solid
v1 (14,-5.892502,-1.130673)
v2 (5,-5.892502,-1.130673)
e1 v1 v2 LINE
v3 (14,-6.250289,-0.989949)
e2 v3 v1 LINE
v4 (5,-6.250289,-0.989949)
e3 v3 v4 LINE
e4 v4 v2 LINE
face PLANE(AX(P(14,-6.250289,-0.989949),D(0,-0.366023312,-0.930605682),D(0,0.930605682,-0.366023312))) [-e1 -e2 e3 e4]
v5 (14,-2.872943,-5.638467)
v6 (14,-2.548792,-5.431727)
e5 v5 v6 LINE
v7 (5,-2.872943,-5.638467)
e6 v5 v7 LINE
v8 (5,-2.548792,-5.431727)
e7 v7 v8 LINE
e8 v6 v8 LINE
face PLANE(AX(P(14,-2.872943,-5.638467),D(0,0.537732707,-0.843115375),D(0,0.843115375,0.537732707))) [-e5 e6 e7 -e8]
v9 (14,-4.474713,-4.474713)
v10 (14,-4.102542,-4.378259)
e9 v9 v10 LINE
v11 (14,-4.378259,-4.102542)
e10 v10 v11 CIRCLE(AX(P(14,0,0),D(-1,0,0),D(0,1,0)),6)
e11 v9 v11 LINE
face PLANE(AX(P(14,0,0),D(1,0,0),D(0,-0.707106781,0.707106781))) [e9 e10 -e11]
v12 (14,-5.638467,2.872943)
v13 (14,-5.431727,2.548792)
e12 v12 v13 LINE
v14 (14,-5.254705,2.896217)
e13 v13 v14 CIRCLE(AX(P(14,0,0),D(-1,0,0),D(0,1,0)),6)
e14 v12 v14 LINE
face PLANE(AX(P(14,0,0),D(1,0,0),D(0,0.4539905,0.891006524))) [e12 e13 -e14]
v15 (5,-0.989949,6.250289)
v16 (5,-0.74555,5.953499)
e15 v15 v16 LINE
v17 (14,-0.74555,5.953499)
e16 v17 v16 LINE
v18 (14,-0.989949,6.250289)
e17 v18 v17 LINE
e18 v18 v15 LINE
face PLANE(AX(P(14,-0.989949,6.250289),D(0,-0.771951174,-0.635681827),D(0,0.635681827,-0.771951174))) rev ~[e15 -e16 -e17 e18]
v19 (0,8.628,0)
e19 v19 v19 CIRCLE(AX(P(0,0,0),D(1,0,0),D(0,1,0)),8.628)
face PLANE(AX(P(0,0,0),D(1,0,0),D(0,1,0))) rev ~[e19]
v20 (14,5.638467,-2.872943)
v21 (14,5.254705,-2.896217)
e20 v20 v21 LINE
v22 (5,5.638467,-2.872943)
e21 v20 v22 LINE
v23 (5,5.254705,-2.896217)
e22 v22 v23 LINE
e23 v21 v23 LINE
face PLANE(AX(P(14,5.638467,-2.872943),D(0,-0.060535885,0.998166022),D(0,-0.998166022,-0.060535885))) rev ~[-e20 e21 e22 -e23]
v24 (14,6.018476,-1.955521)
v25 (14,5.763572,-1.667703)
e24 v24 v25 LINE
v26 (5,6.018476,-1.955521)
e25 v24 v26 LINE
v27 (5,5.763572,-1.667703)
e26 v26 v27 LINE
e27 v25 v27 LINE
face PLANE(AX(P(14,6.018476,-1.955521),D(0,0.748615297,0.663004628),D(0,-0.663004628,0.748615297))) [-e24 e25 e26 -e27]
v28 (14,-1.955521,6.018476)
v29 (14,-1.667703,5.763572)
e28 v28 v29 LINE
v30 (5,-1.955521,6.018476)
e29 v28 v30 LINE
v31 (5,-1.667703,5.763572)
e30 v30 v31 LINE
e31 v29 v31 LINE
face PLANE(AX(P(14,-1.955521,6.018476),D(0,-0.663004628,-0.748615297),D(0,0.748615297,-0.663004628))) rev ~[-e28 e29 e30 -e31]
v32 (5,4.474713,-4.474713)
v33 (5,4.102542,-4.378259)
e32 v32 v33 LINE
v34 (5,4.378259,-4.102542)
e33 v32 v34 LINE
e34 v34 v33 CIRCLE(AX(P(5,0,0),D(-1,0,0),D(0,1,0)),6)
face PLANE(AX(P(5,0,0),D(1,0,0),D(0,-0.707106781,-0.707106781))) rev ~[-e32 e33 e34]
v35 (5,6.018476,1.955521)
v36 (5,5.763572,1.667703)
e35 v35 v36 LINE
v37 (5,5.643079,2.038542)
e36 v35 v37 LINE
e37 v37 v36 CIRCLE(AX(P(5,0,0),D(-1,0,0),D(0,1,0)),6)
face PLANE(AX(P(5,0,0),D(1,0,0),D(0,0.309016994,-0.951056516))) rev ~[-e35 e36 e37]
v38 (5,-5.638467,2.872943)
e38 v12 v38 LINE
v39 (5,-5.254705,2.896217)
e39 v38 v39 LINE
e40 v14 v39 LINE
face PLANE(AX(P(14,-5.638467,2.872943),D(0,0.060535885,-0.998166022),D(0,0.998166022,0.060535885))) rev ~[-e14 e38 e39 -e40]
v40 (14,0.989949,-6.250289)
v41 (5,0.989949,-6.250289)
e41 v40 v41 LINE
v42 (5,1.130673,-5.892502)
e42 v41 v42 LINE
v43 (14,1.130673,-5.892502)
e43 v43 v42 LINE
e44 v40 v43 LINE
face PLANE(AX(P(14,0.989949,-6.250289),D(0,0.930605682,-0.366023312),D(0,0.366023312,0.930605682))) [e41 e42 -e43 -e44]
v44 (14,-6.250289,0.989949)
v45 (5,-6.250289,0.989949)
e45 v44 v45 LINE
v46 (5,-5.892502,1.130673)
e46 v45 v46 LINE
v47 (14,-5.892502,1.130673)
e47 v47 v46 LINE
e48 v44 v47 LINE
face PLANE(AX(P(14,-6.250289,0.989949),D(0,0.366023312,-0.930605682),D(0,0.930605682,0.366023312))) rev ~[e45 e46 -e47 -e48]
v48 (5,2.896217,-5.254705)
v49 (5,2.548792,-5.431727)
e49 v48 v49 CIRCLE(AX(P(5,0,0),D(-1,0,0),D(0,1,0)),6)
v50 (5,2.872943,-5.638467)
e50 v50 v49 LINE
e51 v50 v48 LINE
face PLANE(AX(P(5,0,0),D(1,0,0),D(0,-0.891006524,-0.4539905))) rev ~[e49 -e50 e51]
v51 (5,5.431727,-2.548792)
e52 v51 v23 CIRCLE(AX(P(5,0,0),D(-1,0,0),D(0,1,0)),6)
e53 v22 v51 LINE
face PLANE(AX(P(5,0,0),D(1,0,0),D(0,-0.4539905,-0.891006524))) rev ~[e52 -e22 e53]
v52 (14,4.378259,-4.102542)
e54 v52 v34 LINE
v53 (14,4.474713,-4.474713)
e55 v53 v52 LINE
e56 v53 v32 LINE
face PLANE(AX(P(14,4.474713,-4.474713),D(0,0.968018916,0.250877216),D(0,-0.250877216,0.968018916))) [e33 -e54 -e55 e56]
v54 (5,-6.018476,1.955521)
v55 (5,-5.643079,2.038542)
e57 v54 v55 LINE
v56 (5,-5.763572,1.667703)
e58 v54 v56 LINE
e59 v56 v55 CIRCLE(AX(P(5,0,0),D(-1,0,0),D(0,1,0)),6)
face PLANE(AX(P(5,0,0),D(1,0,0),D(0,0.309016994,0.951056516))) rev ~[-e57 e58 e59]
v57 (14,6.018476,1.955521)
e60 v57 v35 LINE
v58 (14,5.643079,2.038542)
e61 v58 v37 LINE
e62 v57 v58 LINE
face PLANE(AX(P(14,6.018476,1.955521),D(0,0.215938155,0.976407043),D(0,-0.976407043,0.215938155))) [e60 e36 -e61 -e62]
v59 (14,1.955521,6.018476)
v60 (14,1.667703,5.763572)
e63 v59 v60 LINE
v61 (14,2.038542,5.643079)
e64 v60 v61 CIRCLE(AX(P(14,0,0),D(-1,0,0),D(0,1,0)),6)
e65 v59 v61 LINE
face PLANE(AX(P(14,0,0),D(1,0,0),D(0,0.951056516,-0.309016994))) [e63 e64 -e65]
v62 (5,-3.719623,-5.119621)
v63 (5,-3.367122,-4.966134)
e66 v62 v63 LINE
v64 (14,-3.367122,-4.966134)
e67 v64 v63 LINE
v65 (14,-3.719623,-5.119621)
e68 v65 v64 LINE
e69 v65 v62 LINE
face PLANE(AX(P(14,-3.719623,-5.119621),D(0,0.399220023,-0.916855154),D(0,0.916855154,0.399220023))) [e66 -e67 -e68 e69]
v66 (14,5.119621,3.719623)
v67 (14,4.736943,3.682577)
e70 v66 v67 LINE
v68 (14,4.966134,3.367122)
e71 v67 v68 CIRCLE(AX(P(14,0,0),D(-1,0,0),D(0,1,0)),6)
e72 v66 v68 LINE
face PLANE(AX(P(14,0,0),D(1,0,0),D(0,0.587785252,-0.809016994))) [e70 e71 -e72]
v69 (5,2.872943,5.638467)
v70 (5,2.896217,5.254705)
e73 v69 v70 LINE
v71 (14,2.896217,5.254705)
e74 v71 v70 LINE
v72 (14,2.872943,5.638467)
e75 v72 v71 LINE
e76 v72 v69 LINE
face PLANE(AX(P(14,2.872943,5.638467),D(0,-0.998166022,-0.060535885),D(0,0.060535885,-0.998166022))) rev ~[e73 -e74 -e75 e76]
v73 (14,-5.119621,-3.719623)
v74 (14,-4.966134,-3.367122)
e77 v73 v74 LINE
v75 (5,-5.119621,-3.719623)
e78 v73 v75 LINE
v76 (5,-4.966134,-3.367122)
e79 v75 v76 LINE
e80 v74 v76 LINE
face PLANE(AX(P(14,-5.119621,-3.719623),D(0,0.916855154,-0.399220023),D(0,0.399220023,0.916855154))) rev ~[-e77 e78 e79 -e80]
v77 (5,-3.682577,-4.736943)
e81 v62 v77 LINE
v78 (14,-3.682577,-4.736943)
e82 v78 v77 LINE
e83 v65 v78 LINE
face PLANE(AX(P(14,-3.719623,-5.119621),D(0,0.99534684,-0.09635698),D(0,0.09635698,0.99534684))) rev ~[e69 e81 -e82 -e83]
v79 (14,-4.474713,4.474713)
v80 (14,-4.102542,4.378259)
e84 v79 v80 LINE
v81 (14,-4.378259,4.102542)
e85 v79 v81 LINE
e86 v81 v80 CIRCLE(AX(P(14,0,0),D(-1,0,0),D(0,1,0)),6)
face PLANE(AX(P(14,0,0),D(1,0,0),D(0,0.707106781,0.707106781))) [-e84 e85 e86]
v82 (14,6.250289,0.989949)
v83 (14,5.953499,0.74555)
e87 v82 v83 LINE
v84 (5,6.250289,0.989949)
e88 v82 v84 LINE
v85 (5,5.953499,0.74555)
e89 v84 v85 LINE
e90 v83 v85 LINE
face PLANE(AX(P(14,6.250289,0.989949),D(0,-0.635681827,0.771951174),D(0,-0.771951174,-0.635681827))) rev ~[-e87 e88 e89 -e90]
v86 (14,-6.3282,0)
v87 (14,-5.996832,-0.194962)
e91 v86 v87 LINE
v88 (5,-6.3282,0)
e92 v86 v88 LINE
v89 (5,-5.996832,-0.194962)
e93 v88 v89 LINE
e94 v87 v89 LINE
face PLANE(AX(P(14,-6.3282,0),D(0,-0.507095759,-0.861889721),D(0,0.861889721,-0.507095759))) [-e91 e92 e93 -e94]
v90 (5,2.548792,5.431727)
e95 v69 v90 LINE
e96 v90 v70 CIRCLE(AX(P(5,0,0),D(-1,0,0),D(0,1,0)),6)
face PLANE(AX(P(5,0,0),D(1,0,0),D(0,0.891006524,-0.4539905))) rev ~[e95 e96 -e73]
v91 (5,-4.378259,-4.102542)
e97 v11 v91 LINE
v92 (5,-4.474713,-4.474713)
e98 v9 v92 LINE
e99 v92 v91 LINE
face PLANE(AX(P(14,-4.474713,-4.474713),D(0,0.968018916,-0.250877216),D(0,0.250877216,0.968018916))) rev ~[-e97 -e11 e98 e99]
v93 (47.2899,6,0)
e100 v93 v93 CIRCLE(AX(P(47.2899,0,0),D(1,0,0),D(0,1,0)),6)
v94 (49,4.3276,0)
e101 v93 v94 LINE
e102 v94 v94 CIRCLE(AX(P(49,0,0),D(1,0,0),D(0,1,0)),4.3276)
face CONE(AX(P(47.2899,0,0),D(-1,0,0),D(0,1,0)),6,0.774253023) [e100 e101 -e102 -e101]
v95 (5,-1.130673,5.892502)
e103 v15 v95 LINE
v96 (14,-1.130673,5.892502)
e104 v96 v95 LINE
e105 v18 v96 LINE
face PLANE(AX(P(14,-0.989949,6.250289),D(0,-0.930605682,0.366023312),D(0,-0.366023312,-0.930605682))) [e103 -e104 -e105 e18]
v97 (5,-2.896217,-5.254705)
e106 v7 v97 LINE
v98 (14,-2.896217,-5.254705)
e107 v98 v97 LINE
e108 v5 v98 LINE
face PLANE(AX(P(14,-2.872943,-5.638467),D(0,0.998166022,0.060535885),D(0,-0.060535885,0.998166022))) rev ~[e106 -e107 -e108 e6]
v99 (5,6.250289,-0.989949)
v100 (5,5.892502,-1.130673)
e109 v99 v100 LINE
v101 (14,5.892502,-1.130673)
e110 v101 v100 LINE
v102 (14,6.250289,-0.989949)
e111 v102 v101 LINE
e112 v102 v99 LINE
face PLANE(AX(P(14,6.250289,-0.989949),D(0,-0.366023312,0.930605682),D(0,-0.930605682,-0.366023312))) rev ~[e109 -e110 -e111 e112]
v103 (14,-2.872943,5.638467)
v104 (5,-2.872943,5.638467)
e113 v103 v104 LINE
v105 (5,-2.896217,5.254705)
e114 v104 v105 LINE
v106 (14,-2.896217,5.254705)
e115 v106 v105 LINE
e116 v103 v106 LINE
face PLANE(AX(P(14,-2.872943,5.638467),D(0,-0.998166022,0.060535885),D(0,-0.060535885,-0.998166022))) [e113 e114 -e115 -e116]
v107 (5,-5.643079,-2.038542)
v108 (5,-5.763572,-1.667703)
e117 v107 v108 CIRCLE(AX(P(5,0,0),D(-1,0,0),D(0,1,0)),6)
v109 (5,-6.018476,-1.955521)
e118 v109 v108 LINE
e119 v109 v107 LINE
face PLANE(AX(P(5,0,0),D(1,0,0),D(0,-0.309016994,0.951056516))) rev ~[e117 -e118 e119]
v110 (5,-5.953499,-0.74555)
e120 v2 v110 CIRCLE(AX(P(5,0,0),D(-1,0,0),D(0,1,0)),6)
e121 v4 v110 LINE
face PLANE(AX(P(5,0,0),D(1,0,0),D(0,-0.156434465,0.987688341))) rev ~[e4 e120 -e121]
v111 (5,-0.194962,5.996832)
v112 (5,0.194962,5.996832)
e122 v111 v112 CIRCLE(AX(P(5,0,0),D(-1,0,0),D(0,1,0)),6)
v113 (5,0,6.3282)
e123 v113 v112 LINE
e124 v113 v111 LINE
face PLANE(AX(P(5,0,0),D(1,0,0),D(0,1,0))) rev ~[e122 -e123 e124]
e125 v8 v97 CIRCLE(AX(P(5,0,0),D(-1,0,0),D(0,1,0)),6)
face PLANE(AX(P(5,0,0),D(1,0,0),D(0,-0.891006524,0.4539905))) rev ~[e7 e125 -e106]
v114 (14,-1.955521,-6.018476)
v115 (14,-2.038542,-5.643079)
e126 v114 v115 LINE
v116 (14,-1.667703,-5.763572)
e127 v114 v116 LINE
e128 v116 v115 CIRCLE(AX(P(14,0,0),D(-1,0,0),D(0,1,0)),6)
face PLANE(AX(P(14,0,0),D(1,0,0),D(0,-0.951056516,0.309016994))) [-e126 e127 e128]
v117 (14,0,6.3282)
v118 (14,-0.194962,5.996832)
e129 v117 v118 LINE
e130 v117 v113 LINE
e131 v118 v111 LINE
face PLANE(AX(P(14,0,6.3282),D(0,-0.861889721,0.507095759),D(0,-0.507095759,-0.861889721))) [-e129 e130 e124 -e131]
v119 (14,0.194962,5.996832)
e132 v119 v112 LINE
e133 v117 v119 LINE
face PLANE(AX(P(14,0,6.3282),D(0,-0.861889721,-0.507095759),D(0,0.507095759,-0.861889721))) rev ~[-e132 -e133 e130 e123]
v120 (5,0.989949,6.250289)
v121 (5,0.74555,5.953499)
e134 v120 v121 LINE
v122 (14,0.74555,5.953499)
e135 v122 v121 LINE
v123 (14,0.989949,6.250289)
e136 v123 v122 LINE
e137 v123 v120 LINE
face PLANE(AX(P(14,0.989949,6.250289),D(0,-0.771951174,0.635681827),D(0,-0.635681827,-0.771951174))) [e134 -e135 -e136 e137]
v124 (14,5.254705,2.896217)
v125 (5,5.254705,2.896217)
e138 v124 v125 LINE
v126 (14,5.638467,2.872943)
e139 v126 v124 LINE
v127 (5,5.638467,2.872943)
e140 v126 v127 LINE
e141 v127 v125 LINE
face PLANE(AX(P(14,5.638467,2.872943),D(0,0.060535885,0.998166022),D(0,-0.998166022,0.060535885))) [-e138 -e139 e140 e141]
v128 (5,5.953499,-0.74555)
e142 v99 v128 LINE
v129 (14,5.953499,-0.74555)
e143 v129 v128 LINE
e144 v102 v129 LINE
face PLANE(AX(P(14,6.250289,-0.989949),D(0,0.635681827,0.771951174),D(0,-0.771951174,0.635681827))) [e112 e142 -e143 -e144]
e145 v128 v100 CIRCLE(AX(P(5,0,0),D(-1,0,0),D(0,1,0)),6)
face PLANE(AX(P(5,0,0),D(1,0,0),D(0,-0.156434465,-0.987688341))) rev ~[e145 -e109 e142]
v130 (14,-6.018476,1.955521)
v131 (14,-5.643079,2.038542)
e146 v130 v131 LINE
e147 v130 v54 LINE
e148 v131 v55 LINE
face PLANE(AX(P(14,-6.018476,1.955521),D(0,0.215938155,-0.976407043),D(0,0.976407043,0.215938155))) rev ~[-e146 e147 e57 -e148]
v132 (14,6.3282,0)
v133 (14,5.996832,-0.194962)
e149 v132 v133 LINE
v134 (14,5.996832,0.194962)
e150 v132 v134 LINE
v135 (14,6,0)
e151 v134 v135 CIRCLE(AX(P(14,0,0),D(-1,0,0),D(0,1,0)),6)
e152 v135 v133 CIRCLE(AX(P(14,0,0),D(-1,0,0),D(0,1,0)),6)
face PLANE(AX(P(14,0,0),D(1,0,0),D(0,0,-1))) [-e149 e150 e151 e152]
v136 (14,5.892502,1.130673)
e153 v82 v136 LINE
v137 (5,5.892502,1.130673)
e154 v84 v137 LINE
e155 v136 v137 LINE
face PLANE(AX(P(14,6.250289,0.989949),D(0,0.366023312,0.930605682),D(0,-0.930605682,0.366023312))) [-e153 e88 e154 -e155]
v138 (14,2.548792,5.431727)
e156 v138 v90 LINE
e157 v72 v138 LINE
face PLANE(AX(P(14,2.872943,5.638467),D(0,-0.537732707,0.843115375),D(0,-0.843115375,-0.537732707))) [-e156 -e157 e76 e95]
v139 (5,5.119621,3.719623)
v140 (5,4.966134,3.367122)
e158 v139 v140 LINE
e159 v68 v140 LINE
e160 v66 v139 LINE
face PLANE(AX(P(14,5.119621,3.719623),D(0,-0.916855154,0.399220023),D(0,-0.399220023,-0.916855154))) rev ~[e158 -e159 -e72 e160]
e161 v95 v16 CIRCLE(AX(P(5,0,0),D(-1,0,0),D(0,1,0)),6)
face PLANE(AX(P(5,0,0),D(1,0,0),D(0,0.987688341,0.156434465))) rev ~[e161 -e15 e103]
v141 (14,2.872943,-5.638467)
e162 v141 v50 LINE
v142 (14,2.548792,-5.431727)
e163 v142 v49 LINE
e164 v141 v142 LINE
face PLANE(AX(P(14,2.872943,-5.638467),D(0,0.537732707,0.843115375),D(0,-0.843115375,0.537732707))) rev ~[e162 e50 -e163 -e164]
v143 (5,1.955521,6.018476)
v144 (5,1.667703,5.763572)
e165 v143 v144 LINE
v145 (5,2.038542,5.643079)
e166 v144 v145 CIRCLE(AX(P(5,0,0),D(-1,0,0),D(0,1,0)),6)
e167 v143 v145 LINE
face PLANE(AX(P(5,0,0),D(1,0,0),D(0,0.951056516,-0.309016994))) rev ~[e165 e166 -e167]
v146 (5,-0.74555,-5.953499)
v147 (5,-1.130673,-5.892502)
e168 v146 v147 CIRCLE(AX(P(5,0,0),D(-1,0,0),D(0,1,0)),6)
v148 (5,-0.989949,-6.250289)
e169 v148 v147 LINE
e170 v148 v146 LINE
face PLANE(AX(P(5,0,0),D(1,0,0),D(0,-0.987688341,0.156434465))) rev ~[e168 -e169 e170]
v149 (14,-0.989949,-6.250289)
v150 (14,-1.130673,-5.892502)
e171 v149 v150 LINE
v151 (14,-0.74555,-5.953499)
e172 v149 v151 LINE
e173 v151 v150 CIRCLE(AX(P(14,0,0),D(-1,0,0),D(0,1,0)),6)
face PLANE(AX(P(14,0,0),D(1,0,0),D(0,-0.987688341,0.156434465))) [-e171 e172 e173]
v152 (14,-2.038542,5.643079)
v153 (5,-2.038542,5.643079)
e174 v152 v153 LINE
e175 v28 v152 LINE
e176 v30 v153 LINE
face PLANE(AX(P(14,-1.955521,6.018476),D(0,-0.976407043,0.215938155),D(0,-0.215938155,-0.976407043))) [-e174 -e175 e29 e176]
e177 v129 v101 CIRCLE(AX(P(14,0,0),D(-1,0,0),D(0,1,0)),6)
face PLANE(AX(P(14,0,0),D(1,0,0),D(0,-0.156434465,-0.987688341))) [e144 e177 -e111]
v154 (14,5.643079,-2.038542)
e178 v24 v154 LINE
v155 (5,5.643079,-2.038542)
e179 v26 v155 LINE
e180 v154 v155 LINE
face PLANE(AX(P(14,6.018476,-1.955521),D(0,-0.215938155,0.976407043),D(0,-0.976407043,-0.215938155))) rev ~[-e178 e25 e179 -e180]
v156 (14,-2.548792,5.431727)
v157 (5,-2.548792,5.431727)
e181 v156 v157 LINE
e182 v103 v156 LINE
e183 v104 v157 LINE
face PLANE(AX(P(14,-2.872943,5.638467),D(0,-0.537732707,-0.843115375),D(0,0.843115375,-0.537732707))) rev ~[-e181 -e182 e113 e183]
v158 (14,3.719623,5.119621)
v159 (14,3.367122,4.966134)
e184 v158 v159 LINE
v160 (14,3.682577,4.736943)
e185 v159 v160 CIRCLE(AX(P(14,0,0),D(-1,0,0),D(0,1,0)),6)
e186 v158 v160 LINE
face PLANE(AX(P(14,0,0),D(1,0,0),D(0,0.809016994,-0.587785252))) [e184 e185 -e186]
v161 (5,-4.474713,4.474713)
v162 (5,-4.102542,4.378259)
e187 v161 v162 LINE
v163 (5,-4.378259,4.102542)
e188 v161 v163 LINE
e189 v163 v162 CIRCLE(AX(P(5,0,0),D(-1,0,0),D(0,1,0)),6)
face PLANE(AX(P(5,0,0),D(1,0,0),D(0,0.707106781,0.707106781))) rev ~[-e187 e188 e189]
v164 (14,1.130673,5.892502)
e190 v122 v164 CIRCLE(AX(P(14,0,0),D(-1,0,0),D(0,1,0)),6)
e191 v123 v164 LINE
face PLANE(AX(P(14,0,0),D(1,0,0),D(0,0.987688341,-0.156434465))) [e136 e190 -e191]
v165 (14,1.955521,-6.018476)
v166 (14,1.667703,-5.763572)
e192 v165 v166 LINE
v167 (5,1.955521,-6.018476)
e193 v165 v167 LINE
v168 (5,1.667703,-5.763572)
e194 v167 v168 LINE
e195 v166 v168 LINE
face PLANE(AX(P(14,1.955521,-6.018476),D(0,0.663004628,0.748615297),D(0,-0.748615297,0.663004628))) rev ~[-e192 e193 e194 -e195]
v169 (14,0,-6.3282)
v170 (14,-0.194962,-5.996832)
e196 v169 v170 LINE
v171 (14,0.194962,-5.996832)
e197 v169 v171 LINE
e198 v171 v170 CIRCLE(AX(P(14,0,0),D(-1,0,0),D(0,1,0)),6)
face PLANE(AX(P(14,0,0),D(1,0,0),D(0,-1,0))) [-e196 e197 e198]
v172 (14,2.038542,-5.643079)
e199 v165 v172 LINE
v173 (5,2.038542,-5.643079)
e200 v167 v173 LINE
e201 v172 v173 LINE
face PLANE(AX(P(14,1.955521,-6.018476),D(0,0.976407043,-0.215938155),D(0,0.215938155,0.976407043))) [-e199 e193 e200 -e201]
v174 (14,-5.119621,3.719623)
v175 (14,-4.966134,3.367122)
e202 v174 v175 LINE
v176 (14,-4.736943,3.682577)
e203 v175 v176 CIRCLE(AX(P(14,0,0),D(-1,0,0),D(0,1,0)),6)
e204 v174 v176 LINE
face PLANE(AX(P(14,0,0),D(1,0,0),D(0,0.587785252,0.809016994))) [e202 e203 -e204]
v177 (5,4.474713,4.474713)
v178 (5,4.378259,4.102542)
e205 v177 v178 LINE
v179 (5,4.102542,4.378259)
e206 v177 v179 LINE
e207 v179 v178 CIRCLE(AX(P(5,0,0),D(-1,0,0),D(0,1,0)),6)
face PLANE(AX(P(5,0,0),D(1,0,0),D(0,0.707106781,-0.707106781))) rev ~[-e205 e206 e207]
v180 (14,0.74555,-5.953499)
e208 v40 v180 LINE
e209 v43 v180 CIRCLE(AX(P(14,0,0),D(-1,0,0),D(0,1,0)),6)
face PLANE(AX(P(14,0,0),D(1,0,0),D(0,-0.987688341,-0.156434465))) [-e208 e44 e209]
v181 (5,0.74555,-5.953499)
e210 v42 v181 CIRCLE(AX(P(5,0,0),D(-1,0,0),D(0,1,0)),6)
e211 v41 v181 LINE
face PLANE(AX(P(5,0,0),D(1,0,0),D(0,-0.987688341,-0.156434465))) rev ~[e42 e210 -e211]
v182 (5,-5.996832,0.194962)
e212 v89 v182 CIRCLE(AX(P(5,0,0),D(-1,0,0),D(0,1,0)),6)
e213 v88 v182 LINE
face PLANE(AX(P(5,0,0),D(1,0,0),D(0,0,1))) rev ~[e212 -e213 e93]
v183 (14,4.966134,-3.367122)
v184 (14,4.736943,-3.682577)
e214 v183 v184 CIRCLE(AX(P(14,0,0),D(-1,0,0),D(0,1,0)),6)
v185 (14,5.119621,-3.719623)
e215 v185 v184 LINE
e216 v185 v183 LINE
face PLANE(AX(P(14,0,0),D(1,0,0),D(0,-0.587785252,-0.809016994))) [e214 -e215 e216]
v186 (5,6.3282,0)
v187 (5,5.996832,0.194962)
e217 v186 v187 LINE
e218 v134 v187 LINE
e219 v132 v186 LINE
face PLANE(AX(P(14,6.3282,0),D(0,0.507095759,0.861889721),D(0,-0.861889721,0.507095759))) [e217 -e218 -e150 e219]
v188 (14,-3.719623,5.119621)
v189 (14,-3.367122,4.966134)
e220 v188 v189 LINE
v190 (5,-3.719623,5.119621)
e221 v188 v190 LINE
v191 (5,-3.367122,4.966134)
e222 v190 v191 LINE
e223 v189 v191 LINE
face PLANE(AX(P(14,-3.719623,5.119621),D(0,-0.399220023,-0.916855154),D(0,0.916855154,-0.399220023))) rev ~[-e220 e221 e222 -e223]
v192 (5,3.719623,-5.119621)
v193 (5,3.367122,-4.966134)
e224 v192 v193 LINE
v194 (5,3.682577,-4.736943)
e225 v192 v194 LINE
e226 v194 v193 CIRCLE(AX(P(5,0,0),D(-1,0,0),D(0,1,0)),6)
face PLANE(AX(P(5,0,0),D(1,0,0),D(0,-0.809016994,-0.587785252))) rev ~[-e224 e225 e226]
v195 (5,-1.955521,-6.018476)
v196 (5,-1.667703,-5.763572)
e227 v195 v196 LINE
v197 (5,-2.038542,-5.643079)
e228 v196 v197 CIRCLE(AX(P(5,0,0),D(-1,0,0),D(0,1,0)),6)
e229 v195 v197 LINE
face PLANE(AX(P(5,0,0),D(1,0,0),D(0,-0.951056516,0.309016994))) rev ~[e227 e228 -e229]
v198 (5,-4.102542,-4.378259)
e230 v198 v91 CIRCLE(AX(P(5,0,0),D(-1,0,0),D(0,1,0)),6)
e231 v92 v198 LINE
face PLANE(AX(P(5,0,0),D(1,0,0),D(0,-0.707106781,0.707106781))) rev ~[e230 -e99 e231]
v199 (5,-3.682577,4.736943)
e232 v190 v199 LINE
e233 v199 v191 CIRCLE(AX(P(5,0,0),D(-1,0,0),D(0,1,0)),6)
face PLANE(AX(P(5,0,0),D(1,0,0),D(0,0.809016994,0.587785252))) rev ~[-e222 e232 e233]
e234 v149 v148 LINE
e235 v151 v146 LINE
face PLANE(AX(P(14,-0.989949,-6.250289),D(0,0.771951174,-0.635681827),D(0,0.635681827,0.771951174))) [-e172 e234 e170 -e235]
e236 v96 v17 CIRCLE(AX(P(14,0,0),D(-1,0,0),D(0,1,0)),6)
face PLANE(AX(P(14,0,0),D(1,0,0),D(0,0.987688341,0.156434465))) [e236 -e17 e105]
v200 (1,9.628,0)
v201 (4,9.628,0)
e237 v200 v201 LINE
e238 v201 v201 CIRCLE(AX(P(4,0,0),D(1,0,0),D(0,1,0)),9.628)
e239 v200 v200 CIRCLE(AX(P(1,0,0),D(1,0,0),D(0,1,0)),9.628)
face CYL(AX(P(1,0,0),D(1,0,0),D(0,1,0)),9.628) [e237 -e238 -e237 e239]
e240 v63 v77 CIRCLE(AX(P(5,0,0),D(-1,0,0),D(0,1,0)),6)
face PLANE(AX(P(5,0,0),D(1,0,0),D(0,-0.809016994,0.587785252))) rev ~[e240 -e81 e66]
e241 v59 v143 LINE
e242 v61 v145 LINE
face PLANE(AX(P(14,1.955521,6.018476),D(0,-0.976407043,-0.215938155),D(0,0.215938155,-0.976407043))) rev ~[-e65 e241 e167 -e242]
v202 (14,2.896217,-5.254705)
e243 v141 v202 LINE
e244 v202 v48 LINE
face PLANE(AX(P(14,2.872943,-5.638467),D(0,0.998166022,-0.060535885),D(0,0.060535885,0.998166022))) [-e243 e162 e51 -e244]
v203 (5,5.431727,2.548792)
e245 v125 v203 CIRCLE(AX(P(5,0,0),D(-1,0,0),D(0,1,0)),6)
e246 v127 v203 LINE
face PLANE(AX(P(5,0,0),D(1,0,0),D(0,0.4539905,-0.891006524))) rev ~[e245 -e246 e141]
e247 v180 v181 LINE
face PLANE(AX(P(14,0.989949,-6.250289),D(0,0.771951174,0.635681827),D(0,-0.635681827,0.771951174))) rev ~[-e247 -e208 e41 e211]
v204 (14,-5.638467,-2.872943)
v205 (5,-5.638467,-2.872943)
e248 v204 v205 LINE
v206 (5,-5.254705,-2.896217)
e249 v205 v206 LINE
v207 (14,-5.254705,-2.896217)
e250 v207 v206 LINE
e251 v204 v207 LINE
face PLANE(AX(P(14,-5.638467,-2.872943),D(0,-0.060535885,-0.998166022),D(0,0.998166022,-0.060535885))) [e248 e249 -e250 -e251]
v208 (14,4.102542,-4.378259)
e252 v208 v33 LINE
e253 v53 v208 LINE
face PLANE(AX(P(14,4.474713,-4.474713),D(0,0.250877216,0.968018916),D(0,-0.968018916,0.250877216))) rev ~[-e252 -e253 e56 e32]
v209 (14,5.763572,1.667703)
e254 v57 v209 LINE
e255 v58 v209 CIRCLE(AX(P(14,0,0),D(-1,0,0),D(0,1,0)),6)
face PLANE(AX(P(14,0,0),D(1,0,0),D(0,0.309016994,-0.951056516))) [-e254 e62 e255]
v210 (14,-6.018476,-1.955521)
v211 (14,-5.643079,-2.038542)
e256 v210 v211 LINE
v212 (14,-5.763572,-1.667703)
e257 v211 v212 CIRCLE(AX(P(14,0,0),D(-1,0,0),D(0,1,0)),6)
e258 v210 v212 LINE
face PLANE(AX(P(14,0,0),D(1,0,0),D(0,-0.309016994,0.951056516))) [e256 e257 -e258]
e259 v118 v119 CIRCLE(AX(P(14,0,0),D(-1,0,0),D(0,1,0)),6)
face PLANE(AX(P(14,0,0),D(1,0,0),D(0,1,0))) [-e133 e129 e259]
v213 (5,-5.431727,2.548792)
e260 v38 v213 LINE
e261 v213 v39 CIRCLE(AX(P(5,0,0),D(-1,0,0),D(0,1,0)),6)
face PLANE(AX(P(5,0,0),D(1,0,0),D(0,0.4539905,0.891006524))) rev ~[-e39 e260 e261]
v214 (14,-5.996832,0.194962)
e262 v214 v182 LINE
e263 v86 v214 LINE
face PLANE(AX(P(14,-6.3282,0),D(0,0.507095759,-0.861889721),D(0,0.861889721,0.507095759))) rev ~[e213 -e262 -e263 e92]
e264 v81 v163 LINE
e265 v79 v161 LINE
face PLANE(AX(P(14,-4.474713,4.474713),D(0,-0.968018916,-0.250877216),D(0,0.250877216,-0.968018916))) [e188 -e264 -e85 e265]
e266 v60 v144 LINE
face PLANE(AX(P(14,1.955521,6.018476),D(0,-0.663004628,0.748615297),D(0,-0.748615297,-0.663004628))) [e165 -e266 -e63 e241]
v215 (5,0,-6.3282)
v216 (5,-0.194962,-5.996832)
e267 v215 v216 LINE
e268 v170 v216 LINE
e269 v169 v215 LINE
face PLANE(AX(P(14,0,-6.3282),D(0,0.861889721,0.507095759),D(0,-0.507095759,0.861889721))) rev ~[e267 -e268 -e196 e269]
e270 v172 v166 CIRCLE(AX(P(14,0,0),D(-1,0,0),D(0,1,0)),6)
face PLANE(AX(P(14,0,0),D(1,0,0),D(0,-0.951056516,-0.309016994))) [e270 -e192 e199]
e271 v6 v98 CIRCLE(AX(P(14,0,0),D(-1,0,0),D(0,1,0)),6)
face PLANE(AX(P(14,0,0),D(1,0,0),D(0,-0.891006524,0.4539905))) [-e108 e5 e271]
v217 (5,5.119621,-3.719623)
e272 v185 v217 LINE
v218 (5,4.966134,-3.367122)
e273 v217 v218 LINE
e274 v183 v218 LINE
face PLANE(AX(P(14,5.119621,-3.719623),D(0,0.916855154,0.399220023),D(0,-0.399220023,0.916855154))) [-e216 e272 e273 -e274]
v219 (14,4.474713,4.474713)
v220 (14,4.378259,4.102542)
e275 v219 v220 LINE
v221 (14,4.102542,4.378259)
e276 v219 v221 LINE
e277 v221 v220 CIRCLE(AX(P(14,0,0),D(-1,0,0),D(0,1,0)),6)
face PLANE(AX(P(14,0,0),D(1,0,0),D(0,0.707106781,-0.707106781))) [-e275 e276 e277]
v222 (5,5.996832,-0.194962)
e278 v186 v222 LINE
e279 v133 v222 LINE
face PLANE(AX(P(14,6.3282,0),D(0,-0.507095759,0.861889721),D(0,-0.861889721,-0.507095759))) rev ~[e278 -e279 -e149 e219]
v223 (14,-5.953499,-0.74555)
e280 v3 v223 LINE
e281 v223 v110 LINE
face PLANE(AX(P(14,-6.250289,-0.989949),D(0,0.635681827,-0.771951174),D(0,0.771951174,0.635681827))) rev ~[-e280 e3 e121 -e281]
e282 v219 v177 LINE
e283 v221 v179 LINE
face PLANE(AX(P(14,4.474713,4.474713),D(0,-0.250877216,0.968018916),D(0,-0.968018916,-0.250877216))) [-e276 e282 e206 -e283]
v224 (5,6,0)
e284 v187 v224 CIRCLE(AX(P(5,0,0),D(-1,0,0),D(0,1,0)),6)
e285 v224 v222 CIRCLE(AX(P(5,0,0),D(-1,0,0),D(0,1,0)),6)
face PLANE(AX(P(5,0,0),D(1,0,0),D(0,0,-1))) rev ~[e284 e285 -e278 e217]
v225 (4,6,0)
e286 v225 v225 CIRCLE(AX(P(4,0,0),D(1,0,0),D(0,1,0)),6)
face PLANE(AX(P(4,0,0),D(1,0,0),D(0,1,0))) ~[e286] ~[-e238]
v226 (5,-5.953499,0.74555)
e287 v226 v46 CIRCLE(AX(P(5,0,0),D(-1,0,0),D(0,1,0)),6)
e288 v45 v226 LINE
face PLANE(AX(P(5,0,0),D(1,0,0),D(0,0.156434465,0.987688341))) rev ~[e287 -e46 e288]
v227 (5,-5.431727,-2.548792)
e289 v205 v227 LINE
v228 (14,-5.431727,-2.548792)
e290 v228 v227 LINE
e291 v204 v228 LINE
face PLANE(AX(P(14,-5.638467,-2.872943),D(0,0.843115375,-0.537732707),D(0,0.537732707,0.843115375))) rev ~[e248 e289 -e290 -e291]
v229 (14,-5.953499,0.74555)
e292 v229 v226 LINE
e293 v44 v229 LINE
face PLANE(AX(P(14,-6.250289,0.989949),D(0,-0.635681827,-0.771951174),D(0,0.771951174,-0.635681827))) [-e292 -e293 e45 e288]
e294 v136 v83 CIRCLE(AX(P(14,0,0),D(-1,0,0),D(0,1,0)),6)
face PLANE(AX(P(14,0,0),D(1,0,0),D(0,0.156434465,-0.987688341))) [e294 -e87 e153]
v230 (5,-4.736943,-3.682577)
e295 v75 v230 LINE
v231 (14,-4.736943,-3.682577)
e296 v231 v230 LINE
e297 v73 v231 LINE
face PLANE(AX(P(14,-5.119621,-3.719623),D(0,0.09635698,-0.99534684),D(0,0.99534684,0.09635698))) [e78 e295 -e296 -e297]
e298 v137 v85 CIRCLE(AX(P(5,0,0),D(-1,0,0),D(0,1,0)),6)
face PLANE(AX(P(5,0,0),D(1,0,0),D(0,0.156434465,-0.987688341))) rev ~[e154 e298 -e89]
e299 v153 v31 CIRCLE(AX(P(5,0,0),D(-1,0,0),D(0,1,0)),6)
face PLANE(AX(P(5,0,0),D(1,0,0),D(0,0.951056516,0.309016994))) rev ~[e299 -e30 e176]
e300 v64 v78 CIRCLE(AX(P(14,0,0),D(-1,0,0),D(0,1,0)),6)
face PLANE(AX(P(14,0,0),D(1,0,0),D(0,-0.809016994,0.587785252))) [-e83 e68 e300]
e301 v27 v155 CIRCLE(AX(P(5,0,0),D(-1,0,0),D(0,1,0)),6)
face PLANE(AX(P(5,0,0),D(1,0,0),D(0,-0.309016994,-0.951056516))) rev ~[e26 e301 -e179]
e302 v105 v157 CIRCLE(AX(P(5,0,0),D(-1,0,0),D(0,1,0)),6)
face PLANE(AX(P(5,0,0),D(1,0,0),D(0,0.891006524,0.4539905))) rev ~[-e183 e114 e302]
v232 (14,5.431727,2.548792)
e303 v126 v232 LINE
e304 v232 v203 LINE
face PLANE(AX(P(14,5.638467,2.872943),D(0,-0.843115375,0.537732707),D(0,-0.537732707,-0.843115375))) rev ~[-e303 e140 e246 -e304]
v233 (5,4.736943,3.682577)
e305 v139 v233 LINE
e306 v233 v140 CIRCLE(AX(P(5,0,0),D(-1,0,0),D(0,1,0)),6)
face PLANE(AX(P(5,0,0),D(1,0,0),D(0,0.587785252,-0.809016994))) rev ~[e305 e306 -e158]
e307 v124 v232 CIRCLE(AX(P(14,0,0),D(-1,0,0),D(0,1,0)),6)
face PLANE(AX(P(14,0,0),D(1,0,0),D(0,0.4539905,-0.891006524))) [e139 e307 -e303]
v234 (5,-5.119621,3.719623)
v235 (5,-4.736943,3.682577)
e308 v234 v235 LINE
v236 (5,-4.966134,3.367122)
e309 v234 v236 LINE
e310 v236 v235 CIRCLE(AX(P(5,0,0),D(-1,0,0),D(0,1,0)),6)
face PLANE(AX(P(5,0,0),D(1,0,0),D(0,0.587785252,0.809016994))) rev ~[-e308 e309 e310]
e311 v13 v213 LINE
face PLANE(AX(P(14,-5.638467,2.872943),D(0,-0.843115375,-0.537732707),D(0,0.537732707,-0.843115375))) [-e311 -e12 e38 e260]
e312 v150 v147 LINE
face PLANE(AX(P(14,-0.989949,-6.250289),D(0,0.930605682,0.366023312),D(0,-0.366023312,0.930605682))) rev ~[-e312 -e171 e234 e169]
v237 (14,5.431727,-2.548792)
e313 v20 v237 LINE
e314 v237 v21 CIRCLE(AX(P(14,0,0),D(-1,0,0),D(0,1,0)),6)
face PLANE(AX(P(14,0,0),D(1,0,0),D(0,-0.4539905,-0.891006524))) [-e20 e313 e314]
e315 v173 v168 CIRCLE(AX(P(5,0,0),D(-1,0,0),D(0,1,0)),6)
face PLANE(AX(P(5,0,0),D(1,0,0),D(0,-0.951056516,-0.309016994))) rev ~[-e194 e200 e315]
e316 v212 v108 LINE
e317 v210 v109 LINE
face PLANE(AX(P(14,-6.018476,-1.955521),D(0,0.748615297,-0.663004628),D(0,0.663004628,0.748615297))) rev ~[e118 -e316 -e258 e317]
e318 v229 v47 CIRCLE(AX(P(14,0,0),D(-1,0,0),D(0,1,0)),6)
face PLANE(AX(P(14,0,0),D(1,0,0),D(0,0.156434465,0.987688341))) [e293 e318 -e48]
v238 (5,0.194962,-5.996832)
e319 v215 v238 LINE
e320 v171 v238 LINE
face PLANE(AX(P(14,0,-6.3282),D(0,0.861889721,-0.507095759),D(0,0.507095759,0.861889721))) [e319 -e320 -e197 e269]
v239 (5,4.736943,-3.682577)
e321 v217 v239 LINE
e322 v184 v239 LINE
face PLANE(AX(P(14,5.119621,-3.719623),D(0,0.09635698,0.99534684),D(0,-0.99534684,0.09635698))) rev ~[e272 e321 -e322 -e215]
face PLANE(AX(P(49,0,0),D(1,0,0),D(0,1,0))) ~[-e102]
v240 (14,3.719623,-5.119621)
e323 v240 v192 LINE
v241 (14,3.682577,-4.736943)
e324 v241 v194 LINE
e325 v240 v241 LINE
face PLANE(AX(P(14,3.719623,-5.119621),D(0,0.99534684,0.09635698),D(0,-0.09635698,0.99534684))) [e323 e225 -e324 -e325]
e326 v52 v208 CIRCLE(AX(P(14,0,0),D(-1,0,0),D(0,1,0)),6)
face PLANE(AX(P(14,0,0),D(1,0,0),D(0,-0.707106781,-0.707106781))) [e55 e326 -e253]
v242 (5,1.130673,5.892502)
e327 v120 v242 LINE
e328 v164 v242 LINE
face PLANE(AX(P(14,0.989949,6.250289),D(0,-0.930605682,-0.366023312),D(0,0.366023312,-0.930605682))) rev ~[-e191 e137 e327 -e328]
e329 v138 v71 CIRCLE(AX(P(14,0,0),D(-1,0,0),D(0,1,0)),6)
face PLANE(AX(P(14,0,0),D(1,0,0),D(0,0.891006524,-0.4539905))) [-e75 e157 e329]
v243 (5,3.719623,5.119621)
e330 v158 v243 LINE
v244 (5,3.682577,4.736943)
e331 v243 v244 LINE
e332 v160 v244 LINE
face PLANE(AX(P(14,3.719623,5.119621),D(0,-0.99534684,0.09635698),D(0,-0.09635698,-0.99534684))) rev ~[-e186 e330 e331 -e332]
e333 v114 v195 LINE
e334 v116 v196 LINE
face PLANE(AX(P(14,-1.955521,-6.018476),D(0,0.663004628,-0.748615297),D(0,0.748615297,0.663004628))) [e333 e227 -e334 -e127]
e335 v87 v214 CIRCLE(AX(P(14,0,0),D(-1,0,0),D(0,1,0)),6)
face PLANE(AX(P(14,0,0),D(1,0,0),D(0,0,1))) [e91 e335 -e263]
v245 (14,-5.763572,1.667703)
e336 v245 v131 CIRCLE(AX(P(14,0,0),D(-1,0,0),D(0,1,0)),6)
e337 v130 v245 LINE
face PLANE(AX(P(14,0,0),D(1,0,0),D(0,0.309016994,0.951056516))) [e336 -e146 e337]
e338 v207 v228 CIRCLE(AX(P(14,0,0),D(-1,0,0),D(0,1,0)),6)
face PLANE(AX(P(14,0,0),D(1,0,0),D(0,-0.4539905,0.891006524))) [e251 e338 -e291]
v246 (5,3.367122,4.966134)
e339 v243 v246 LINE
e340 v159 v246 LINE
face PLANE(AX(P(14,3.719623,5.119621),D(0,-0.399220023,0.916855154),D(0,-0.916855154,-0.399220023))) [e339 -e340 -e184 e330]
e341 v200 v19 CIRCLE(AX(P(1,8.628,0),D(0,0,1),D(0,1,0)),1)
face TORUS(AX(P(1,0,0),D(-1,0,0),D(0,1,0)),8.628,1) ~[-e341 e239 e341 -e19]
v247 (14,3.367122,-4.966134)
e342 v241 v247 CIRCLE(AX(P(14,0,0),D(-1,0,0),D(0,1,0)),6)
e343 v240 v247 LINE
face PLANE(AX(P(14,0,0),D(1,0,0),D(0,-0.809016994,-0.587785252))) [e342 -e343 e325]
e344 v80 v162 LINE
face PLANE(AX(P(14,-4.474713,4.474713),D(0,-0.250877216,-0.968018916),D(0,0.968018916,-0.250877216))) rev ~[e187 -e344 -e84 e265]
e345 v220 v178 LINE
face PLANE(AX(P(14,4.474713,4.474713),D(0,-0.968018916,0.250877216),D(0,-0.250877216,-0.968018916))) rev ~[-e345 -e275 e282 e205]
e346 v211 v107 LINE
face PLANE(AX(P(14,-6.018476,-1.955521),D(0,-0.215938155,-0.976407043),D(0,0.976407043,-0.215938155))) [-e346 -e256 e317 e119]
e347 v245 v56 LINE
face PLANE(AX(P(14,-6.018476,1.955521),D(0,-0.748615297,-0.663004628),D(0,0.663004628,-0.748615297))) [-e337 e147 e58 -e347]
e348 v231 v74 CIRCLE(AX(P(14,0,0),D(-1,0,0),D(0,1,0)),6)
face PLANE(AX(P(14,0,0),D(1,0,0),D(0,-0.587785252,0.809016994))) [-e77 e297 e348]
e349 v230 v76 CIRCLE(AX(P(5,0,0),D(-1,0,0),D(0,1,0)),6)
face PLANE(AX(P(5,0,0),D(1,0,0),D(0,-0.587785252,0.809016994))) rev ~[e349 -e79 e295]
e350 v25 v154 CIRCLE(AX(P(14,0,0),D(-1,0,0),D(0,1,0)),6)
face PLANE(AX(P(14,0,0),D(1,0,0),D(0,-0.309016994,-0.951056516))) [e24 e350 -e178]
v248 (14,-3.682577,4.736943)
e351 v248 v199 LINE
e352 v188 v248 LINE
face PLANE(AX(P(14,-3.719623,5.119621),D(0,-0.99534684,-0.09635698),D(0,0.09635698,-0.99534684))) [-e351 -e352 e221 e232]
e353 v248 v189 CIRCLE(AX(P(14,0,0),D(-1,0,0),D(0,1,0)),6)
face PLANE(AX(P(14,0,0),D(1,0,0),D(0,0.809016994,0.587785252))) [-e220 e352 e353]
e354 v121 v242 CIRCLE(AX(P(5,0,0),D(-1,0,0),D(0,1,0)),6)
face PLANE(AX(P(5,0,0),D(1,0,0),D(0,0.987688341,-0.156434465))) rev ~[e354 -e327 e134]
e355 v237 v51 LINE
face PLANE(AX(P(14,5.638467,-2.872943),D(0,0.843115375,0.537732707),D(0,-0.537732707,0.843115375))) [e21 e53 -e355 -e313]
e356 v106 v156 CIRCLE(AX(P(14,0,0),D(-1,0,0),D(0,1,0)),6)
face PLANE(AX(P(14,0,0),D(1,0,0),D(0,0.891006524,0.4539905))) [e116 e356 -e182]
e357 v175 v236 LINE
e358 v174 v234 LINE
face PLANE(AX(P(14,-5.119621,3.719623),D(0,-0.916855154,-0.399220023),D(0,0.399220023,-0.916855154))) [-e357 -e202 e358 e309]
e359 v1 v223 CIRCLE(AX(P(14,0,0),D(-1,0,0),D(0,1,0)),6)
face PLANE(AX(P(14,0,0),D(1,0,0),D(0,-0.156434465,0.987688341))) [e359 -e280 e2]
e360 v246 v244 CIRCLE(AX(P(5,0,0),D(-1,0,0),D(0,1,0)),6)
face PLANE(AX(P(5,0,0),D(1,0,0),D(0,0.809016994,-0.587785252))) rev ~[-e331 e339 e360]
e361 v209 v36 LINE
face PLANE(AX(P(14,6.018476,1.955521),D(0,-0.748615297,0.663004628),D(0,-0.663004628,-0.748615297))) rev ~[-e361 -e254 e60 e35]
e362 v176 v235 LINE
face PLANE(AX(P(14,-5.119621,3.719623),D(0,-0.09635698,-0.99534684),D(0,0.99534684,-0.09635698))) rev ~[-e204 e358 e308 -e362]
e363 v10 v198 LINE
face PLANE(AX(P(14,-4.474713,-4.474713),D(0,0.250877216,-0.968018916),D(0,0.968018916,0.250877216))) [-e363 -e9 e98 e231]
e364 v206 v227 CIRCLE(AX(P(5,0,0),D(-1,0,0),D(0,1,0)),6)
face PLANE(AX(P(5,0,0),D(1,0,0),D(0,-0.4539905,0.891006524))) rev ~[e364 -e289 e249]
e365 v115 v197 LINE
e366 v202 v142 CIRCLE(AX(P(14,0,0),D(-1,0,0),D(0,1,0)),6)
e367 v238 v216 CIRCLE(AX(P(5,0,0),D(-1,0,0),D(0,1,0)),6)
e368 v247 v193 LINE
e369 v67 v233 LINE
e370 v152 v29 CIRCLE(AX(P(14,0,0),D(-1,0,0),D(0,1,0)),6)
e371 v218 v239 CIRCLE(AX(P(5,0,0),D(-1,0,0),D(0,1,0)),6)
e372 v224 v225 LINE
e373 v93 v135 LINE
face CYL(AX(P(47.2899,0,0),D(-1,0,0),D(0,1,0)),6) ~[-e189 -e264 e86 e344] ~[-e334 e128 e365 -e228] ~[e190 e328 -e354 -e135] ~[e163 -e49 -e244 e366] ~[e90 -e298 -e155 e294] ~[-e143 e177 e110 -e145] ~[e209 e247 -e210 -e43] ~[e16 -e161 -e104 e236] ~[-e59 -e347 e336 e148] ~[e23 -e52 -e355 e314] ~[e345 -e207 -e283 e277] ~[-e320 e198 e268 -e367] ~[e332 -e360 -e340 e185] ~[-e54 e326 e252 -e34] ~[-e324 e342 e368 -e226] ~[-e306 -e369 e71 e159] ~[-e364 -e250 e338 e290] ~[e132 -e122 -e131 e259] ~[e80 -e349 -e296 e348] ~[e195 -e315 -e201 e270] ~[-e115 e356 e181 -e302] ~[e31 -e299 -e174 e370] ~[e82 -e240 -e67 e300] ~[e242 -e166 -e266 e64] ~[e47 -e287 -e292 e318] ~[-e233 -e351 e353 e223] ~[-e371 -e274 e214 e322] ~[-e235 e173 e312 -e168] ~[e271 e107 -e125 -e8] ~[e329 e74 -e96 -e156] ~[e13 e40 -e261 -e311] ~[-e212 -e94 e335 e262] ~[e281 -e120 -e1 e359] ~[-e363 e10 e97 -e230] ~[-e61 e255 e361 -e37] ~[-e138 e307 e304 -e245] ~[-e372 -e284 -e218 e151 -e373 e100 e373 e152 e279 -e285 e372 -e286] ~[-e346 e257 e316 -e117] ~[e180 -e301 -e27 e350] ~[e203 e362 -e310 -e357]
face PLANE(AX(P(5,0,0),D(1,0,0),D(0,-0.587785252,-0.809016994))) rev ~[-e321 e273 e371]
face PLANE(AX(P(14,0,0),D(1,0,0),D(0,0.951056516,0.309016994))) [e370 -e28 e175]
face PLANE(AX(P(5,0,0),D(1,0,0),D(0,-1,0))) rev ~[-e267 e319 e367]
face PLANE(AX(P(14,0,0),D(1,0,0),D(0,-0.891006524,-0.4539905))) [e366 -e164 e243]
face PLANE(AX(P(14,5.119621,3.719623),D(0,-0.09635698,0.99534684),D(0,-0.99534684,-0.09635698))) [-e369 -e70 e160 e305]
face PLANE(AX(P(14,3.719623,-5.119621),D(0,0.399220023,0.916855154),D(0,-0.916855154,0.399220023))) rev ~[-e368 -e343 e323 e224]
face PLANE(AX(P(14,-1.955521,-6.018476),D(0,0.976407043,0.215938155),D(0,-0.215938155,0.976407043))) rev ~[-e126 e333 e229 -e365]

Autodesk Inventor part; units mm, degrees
ref_plane "YZ Plane" through (0, 0, 0) normal (1, 0, 0) x (0, 1, 0)
ref_plane "XZ Plane" through (0, 0, 0) normal (0, 1, 0) x (-1, 0, 0)
sketch "Sketch1" plane through (0, 0, 0) normal (0, 0, 1) x (1, 0, 0)
  line L0 (0, 8.628) -> (0, 0)
  line L1 (0, 0) -> (49, 0)
  line L2 (49, 0) -> (49, 4.3276)
  line L3 (47.2899, 6) -> (4, 6)
  line L4 (4, 6) -> (4, 9.628)
  line L5 (1, 9.628) -> (4, 9.628)
  arc A0 (1, 9.628) -> (0, 8.628) centre (1, 8.628) ccw
  line L6 (47.2899, 6) -> (49, 4.3276)
  dimension "d0" = 6
  dimension "d3" = 1
  dimension "d4" = 4
  dimension "d17" = 45
  dimension "d18" = 1.7101
  dimension "d19" = 1.6724
revolve "Revolution1" add sketch "Sketch1" angle 360 about axis through (0, 0, 0) along (1, 0, 0)
ref_plane "Work Plane1" through (14, 0, 0) normal (1, 0, 0) x (0, 0, -1)
sketch "Sketch2" plane through (14, 0, 0) normal (1, 0, 0) x (0, 0, -1)
  line L0 (0, 6.3282) -> (-0.2051, 5.9796)
  line L1 (0, 0) -> (0, 4.031)
  line L2 (0, 6.3282) -> (0.2051, 5.9796)
  arc A0 (0.2051, 5.9796) -> (-0.2051, 5.9796) centre (0, 0) ccw
  point P0 (0, 0)
  point P1 (-0.2227, 5.9496)
  point P2 (0.2227, 5.9496)
extrude "Extrusion1" add sketch "Sketch2" against normal blind 9
pattern_circular "Circular Pattern1" count 40 over 360 about axis through (1, 0, 0) along (1, 0, 0) of "Extrusion1"
thread "Thread2" size "M12x1.75" class "6g" standard "ANSI Metric M Profile" length 30
properties part number "Lug Stud M12 X 45"
